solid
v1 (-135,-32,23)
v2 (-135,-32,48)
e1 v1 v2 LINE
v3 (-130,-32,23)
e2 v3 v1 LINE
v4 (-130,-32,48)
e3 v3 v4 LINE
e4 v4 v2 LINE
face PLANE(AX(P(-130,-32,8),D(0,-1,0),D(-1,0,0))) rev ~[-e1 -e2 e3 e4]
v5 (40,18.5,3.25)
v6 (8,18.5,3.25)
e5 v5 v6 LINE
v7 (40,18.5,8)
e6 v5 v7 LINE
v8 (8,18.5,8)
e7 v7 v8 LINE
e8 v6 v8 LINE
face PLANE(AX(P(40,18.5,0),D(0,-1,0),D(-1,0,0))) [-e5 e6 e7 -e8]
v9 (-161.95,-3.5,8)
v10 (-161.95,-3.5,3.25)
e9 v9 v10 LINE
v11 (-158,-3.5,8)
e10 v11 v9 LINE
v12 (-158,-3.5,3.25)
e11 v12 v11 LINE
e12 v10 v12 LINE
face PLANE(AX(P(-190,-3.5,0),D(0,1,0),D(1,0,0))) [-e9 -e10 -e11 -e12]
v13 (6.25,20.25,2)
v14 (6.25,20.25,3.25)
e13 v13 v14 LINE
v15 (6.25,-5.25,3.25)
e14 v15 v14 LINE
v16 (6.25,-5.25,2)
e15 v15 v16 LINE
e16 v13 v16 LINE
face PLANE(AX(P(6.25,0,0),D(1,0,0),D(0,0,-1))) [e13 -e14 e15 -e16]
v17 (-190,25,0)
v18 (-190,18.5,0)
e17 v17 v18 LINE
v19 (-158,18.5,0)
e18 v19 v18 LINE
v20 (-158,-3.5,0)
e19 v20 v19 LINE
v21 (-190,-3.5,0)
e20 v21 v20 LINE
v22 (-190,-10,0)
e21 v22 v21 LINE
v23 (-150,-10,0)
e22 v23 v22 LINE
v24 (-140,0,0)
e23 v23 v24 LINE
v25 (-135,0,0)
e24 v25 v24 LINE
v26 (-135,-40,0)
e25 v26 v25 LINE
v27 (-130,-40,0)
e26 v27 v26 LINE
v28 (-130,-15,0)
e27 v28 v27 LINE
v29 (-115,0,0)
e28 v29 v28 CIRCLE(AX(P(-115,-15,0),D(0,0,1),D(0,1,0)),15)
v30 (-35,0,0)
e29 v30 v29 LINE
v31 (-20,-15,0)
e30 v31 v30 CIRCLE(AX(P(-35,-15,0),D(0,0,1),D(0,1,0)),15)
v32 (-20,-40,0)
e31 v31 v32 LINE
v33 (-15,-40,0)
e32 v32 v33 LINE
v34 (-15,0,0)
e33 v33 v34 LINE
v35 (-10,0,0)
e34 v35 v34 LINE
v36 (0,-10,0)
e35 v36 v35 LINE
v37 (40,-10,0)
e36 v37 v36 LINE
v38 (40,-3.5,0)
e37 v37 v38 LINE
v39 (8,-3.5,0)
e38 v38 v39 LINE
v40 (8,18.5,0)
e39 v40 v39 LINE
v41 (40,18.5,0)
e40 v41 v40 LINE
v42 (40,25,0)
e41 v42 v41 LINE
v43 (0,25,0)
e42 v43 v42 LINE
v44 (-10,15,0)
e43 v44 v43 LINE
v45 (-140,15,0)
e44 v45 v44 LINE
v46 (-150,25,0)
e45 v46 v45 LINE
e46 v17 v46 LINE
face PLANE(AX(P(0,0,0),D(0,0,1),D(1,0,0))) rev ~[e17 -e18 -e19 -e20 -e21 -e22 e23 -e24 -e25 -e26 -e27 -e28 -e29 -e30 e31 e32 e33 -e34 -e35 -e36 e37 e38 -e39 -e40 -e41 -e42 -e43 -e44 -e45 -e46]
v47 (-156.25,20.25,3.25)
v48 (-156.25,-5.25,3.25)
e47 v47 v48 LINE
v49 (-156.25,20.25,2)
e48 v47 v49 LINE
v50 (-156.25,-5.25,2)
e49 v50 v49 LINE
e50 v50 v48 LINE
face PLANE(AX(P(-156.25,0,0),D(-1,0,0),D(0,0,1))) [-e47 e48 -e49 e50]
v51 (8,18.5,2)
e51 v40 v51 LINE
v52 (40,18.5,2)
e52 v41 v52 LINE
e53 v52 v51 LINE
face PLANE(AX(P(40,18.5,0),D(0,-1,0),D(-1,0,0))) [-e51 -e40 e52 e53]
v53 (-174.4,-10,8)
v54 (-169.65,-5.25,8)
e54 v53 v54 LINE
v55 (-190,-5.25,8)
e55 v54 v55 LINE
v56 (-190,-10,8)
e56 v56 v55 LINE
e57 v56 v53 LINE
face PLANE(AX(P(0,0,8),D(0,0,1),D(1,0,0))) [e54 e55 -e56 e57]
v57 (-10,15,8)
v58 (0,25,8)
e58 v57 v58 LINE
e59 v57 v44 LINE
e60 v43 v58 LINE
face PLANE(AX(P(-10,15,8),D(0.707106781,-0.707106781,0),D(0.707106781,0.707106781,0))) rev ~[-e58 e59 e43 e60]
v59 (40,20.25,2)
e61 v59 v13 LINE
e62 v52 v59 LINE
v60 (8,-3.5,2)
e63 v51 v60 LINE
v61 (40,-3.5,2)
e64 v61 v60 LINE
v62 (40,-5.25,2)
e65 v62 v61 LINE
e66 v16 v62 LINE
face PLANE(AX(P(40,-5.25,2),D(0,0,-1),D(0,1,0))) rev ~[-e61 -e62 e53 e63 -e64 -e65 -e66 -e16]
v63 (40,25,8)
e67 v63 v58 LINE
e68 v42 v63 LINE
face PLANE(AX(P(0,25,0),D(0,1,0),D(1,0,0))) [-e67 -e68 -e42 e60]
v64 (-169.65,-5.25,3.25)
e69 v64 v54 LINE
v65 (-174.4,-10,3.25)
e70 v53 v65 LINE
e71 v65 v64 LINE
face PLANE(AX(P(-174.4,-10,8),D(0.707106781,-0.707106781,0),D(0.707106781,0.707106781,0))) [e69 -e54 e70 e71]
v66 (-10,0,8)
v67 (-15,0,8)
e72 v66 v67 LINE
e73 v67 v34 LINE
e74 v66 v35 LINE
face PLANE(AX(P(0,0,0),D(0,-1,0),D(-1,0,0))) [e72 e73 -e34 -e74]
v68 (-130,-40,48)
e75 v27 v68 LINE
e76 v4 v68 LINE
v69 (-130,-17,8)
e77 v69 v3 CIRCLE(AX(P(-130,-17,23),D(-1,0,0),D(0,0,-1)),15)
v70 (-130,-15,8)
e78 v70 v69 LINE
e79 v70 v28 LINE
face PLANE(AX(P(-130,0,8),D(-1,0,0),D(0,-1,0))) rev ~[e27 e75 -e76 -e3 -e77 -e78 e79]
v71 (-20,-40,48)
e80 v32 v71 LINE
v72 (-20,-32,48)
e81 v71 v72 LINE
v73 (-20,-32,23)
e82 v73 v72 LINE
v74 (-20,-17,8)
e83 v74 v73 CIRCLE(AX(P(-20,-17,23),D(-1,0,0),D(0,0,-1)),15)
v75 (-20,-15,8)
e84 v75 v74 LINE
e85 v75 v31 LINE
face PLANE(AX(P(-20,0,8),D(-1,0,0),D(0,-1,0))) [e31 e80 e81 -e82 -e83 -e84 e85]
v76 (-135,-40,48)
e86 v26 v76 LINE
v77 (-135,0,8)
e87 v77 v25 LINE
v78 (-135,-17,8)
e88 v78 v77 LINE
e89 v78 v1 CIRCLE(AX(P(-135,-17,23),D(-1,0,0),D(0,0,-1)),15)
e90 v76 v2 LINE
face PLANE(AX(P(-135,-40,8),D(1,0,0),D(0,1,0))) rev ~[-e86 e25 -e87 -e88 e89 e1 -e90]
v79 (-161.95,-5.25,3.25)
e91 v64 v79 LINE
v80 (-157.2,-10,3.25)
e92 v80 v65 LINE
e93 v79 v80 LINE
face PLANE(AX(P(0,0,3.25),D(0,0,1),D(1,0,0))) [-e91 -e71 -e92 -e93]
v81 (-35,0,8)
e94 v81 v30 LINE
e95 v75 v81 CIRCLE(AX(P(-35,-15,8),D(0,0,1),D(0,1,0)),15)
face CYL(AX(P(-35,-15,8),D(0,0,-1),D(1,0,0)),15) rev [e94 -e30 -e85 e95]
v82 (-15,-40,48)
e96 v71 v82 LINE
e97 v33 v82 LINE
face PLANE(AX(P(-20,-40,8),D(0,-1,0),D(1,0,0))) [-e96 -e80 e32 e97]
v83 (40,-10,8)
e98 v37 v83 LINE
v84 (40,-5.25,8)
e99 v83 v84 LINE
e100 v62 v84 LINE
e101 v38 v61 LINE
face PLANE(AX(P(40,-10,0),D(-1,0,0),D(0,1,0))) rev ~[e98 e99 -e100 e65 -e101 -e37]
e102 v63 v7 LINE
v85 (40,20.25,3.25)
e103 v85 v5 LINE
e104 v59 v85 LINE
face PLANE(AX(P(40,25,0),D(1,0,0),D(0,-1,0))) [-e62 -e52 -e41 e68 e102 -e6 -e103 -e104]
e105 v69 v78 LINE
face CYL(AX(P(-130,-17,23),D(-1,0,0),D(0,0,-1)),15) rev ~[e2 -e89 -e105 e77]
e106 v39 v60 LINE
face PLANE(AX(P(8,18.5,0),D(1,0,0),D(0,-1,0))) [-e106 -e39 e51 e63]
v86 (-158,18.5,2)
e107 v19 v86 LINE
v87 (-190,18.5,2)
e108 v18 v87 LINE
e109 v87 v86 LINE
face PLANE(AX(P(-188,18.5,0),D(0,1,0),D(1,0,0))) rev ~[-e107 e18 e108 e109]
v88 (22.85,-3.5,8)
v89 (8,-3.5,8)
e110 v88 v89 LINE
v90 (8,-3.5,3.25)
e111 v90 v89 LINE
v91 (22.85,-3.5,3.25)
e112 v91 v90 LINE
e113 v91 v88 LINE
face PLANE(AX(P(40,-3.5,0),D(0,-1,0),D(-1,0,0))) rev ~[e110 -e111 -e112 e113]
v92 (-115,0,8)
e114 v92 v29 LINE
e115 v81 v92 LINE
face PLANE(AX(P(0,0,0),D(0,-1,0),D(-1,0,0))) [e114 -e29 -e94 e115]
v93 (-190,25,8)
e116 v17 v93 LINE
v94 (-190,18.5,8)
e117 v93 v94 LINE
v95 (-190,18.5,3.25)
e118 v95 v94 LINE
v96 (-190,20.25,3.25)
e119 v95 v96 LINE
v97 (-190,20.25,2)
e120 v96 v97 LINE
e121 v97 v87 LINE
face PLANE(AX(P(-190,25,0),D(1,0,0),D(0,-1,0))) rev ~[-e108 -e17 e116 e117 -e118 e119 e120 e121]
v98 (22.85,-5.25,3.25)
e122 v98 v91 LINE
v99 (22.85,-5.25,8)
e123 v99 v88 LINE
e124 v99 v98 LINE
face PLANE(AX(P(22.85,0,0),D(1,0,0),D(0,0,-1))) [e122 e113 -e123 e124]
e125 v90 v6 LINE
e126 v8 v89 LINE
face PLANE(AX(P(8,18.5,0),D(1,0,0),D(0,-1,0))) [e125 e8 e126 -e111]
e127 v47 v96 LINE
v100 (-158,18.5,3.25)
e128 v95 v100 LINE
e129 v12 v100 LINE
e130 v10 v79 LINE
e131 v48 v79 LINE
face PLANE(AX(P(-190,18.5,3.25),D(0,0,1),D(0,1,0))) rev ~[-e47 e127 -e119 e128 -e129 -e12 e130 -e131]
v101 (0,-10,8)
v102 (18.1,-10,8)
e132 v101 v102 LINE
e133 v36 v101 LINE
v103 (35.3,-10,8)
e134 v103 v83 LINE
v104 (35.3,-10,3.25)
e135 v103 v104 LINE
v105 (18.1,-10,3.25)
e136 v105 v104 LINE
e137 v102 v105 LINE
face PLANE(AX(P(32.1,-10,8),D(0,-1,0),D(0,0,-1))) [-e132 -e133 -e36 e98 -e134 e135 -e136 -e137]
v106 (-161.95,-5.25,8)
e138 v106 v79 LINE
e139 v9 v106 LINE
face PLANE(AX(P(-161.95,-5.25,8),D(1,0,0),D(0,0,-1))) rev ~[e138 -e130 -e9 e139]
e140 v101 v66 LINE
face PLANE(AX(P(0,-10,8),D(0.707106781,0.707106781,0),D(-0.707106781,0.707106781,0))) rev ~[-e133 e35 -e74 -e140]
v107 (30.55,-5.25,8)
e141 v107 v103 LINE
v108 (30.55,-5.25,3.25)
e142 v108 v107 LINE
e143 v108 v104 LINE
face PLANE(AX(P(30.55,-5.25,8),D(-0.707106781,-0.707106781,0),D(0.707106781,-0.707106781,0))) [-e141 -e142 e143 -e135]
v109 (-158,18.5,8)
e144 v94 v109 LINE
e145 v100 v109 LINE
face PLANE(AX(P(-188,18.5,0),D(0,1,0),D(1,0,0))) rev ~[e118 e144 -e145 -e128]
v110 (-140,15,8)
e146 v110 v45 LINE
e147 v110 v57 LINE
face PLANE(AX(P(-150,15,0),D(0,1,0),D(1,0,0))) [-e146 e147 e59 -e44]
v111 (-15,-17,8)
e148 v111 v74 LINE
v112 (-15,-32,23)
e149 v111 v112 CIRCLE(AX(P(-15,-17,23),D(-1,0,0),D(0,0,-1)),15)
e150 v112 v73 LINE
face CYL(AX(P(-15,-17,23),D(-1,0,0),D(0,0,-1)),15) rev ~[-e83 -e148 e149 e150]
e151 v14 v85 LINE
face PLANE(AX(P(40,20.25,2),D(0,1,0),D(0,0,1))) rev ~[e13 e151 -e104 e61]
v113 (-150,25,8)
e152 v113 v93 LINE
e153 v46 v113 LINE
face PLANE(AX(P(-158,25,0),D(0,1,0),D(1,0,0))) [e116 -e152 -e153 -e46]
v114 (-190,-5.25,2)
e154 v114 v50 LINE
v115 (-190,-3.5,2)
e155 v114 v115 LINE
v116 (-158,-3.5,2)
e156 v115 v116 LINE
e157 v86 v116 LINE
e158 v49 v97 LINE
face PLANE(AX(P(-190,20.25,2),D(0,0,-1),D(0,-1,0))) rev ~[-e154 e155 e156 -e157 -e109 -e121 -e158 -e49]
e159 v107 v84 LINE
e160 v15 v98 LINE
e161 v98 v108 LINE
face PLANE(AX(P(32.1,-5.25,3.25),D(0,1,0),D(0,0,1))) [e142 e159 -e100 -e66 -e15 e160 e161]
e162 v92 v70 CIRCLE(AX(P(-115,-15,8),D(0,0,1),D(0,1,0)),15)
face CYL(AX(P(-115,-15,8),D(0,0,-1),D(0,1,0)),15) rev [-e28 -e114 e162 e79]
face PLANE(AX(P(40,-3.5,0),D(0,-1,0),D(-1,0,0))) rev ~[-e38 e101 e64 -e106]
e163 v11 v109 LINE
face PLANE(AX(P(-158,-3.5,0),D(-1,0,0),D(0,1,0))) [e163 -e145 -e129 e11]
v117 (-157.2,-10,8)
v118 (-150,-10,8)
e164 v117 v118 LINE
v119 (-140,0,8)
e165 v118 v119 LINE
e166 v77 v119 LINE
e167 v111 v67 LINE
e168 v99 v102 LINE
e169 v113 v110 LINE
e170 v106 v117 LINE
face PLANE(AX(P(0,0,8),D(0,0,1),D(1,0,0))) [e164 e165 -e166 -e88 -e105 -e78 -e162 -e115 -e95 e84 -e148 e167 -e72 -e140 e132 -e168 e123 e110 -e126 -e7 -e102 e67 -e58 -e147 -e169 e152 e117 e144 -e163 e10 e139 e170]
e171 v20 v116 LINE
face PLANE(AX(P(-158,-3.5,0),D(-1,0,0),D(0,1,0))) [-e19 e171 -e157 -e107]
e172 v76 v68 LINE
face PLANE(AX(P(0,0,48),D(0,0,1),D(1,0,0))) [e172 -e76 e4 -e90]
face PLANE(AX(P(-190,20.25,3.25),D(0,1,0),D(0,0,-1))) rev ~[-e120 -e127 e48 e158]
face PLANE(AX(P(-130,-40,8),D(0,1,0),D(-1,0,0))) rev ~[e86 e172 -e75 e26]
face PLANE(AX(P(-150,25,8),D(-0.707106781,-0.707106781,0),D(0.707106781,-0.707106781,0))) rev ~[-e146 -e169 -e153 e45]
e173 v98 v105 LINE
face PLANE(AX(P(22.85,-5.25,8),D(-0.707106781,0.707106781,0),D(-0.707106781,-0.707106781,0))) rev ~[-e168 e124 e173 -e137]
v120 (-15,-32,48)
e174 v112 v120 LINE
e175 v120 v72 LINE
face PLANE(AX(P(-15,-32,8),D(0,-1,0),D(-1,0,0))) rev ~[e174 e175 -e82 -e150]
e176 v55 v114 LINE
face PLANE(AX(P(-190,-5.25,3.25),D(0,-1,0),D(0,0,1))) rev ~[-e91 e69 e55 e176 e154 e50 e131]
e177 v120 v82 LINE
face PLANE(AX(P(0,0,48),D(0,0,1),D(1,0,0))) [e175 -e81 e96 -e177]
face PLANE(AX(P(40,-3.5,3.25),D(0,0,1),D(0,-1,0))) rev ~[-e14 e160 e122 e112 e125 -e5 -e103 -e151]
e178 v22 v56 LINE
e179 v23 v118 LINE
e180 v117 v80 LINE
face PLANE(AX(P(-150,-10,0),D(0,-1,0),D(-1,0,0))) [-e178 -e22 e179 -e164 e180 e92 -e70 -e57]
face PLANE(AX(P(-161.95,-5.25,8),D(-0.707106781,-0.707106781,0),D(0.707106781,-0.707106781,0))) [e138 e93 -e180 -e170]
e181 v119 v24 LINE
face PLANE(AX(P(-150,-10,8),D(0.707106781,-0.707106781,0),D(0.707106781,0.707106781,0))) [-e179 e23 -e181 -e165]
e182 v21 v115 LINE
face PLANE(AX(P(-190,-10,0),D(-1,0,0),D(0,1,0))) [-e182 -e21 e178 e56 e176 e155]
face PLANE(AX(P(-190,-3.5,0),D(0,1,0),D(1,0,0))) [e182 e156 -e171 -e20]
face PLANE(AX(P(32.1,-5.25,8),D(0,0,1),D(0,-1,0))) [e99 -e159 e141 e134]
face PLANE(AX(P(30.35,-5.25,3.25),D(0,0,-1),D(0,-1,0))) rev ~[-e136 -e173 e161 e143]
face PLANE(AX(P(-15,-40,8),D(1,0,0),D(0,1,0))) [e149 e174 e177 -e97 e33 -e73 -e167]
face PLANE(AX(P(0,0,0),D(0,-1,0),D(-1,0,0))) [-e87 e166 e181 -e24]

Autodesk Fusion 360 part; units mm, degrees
sketch "Sketch1" plane through (0, 0, 0) normal (0, 0, 1) x (1, 0, 0)
  line L0 (0, 0) -> (-150, 0)
  line L1 (-150, 0) -> (-150, 15)
  line L2 (-150, 15) -> (0, 15)
  line L3 (0, 15) -> (0, 0)
  line L4 (-150, -10) -> (-158, -10)
  line L5 (-158, -10) -> (-158, 25)
  line L6 (-158, 25) -> (-150, 25)
  line L7 (-150, 25) -> (-150, -10)
  line L8 (-158, -5) -> (-188, -5)
  line L9 (-188, -5) -> (-188, 20)
  line L10 (-188, 20) -> (-158, 20)
  line L11 (-158, 20) -> (-158, -5)
  line L12 (-158, -10) -> (-190, -10)
  line L13 (-190, -10) -> (-190, -3.5)
  line L14 (-190, -3.5) -> (-158, -3.5)
  line L15 (-158, -3.5) -> (-158, -10)
  line L16 (-158, 25) -> (-190, 25)
  line L17 (-190, 25) -> (-190, 18.5)
  line L18 (-190, 18.5) -> (-158, 18.5)
  line L19 (-158, 18.5) -> (-158, 25)
  line L20 (0, 25) -> (8, 25)
  line L21 (8, 25) -> (8, -10)
  line L22 (8, -10) -> (0, -10)
  line L23 (0, -10) -> (0, 25)
  line L24 (8, 25) -> (40, 25)
  line L25 (40, 25) -> (40, 18.5)
  line L26 (40, 18.5) -> (8, 18.5)
  line L27 (8, 18.5) -> (8, 25)
  line L28 (8, -10) -> (40, -10)
  line L29 (40, -10) -> (40, -3.5)
  line L30 (40, -3.5) -> (8, -3.5)
  line L31 (8, -3.5) -> (8, -10)
  dimension "d1" = 150
  dimension "d2" = 15
  dimension "d3" = 8
  dimension "d4" = 35
  dimension "d5" = 10
  dimension "d6" = 30
  dimension "d7" = 25
  dimension "d8" = 5
  dimension "d9" = 6.5
  dimension "d10" = 32
  dimension "d11" = 32
  dimension "d12" = 6.5
  dimension "d13" = 8
  dimension "d14" = 35
  dimension "d15" = 10
  dimension "d16" = 32
  dimension "d17" = 6.5
  dimension "d18" = 32
  dimension "d19" = 6.5
extrude "Extrude1" add sketch "Sketch1" along normal blind 8 contours L0 L1 L2 L3 L7 L23 | L3 L20 L21 L22 L23 L27 L31 | L1 L4 L5 L6 L7 L11 L15 L19 | L21 L28 L29 L30 L31 | L5 L8 L9 L12 L13 L14 L15 | L21 L24 L25 L26 L27 | L5 L9 L10 L16 L17 L18 L19 | L5 L8 L9 L11 L14 L15 | L5 L9 L10 L11 L18 L19
sketch "Sketch2" plane through (-190, 0, 0) normal (-1, 0, 0) x (0, 0, 1)
  line L0 (0, -3.5) -> (0, -10)
  line L1 (0, -10) -> (8, -10)
  line L2 (8, -10) -> (8, -3.5)
  line L3 (8, -3.5) -> (0, -3.5)
  line L4 (2, -3.5) -> (3.25, -3.5)
  line L5 (3.25, -3.5) -> (3.25, -5.25)
  line L6 (3.25, -5.25) -> (2, -5.25)
  line L7 (2, -5.25) -> (2, -3.5)
  line L8 (2, 18.5) -> (3.25, 18.5)
  line L9 (3.25, 18.5) -> (3.25, 20.25)
  line L10 (3.25, 20.25) -> (2, 20.25)
  line L11 (2, 20.25) -> (2, 18.5)
  dimension "d22" = 1.25
  dimension "d23" = 1.75
  dimension "d24" = 1.25
  dimension "d25" = 1.75
  dimension "d26" = 22
  dimension "d27" = 2
extrude "Extrude2" cut sketch "Sketch2" against normal blind 32 contours L3 L4 L5 L6 L7 | L8 L9 L10 L11
sketch "Sketch3" plane through (-158, 0, 0) normal (-1, 0, 0) x (0, 0, 1)
  line L0 (0, 18.5) -> (0, -3.5)
  line L1 (0, -3.5) -> (2, -3.5)
  line L2 (2, -3.5) -> (2, -5.25)
  line L3 (2, -5.25) -> (3.25, -5.25)
  line L4 (3.25, -5.25) -> (3.25, -3.5)
  line L5 (3.25, -3.5) -> (8, -3.5)
  line L6 (8, -3.5) -> (8, 18.5)
  line L7 (8, 18.5) -> (3.25, 18.5)
  line L8 (3.25, 18.5) -> (3.25, 20.25)
  line L9 (3.25, 20.25) -> (2, 20.25)
  line L10 (2, 20.25) -> (2, 18.5)
  line L11 (2, 18.5) -> (0, 18.5)
  line L12 (2, -5.25) -> (3.25, -5.25)
  line L13 (3.25, -5.25) -> (3.25, 20.25)
  line L14 (3.25, 20.25) -> (2, 20.25)
  line L15 (2, 20.25) -> (2, -5.25)
extrude "Extrude3" cut sketch "Sketch3" against normal blind 1.5 contours L2 L3 L4 L8 L9 L10 L12 L13 L14 L15
sketch "Sketch4" plane through (40, 0, 0) normal (1, 0, 0) x (0, 0, -1)
  line L0 (0, -10) -> (0, -3.5)
  line L1 (0, -3.5) -> (-8, -3.5)
  line L2 (-8, -3.5) -> (-8, -10)
  line L3 (-8, -10) -> (0, -10)
  line L4 (-2, -3.5) -> (-3.25, -3.5)
  line L5 (-3.25, -3.5) -> (-3.25, -5.25)
  line L6 (-3.25, -5.25) -> (-2, -5.25)
  line L7 (-2, -5.25) -> (-2, -3.5)
  line L8 (-3.25, 18.5) -> (-2, 18.5)
  line L9 (-2, 18.5) -> (-2, 20.25)
  line L10 (-2, 20.25) -> (-3.25, 20.25)
  line L11 (-3.25, 20.25) -> (-3.25, 18.5)
  line L12 (-2, -5.25) -> (-2, 20.25)
  dimension "d32" = 1.25
  dimension "d33" = 1.75
  dimension "d34" = 2
  dimension "d35" = 1.25
  dimension "d36" = 1.75
  dimension "d37" = 22
extrude "Extrude4" cut sketch "Sketch4" against normal blind 32 contours L8 L9 L10 L11 L12 | L1 L4 L5 L6 L7 L12
sketch "Sketch5" plane through (8, 0, 0) normal (1, 0, 0) x (0, 0, -1)
  line L0 (0, -3.5) -> (0, 18.5)
  line L1 (0, 18.5) -> (-2, 18.5)
  line L2 (-2, 18.5) -> (-2, 20.25)
  line L3 (-2, 20.25) -> (-3.25, 20.25)
  line L4 (-3.25, 20.25) -> (-3.25, 18.5)
  line L5 (-3.25, 18.5) -> (-8, 18.5)
  line L6 (-8, 18.5) -> (-8, -3.5)
  line L7 (-8, -3.5) -> (-3.25, -3.5)
  line L8 (-3.25, -3.5) -> (-3.25, -5.25)
  line L9 (-3.25, -5.25) -> (-2, -5.25)
  line L10 (-2, -5.25) -> (-2, -3.5)
  line L11 (-2, -3.5) -> (0, -3.5)
  line L12 (-3.25, 20.25) -> (-2, 20.25)
  line L13 (-2, 20.25) -> (-2, -5.25)
  line L14 (-2, -5.25) -> (-3.25, -5.25)
  line L15 (-3.25, -5.25) -> (-3.25, 20.25)
extrude "Extrude5" cut sketch "Sketch5" against normal blind 1.75 contours L2 L3 L4 L8 L9 L10 L12 L13 L14 L15
extrude "Extrude6" cut 1 faces at (-156.5, 11.75, 2.4167) along direction (1, 0, 0) blind 0.25
sketch "Sketch6" plane through (-190, 0, 0) normal (-1, 0, 0) x (0, 0, 1)
  line L0 (2, -5.25) -> (2, -3.5)
  line L1 (2, -3.5) -> (0, -3.5)
  line L2 (0, -3.5) -> (0, -10)
  line L3 (0, -10) -> (8, -10)
  line L4 (8, -10) -> (8, -3.5)
  line L5 (8, -3.5) -> (3.25, -3.5)
  line L6 (3.25, -3.5) -> (3.25, -5.25)
  line L7 (3.25, -5.25) -> (2, -5.25)
  line L8 (3.25, -5.25) -> (8, -5.25)
  line L9 (8, -5.25) -> (8, -3.5)
  line L10 (8, -3.5) -> (3.25, -3.5)
  line L11 (3.25, -3.5) -> (3.25, -5.25)
extrude "Extrude7" cut sketch "Sketch6" against normal blind 27.85 contours L4 L5 L6 L8 L9 L10 L11
sketch "Sketch7" plane through (40, 0, 0) normal (1, 0, 0) x (0, 0, -1)
  line L0 (-2, -3.5) -> (-2, -5.25)
  line L1 (-2, -5.25) -> (-3.25, -5.25)
  line L2 (-3.25, -5.25) -> (-3.25, -3.5)
  line L3 (-3.25, -3.5) -> (-8, -3.5)
  line L4 (-8, -3.5) -> (-8, -10)
  line L5 (-8, -10) -> (0, -10)
  line L6 (0, -10) -> (0, -3.5)
  line L7 (0, -3.5) -> (-2, -3.5)
  line L8 (-3.25, -5.25) -> (-8, -5.25)
  line L9 (-8, -5.25) -> (-8, -3.5)
  line L10 (-8, -3.5) -> (-3.25, -3.5)
  line L11 (-3.25, -3.5) -> (-3.25, -5.25)
extrude "Extrude8" cut sketch "Sketch7" against normal blind 13.2 contours L2 L3 L4 L8 L9 L10 L11
extrude "Extrude9" cut 1 faces at (26.8, -4.6667, 4.8333) along direction (-1, 0, 0) blind 0.1
extrude "Extrude10" cut 1 faces at (26.7, -4.6667, 4.8333) along direction (-1, 0, 0) blind 0.1
extrude "Extrude11" cut 1 faces at (-162.15, -4.0833, 4.8333) along direction (1, 0, 0) blind 0.1
sketch "Sketch8" plane through (0, -5.25, 0) normal (0, 1, 0) x (-1, 0, 0)
  line L0 (-40, 8) -> (-40, 2)
  line L1 (-40, 2) -> (-6.25, 2)
  line L2 (-6.25, 2) -> (-6.25, 3.25)
  line L3 (-6.25, 3.25) -> (-26.6, 3.25)
  line L4 (-26.6, 3.25) -> (-26.6, 8)
  line L5 (-26.6, 8) -> (-40, 8)
  line L6 (-26.6, 3.25) -> (-34.1, 3.25)
  line L7 (-34.1, 3.25) -> (-34.1, 8)
  line L8 (-34.1, 8) -> (-26.6, 8)
  line L9 (-26.6, 8) -> (-26.6, 3.25)
  dimension "d54" = 7.5
extrude "Extrude12" cut sketch "Sketch8" against normal blind 9 contours L4 L5 L6 L7 L8 L9
sketch "Sketch9" plane through (0, -5.25, 0) normal (0, 1, 0) x (-1, 0, 0)
  line L0 (190, 2) -> (190, 8)
  line L1 (190, 8) -> (162.05, 8)
  line L2 (162.05, 8) -> (162.05, 3.25)
  line L3 (162.05, 3.25) -> (156.25, 3.25)
  line L4 (156.25, 3.25) -> (156.25, 2)
  line L5 (156.25, 2) -> (190, 2)
  line L6 (162.05, 3.25) -> (169.55, 3.25)
  line L7 (169.55, 3.25) -> (169.55, 8)
  line L8 (169.55, 8) -> (162.05, 8)
  line L9 (162.05, 8) -> (162.05, 3.25)
  dimension "d57" = 7.5
extrude "Extrude13" cut sketch "Sketch9" against normal blind 6 contours L1 L2 L6 L7 L8 L9
extrude "Extrude18" cut 1 faces at (26.6, -6.25, 6.4167) along direction (-1, 0, 0) blind 2
extrude "Extrude19" add 1 faces at (34.1, -6.8333, 4.8333) along direction (-1, 0, 0) blind 2
extrude "Extrude20" cut 1 faces at (24.6, -6.25, 6.4167) along direction (-1, 0, 0) blind 1.75
extrude "Extrude21" add 1 faces at (32.1, -6.8333, 4.8333) along direction (-1, 0, 0) blind 1.75
extrude "Extrude22" cut 1 faces at (30.35, -6.8333, 4.8333) along direction (1, 0, 0) blind 0.2
extrude "Extrude23" cut 1 faces at (-169.55, -6.8333, 4.8333) along direction (-1, 0, 0) blind 0.1
extrude "Extrude24" cut 1 faces at (-162.05, -6.25, 6.4167) along direction (1, 0, 0) blind 0.1
sketch "Sketch14" plane through (0, 0, 8) normal (0, 0, 1) x (1, 0, 0)
  line L0 (-161.95, -3.5) -> (-161.95, -10)
  line L1 (-161.95, -10) -> (-150, -10)
  line L2 (-150, -10) -> (-150, 0)
  line L3 (-150, 0) -> (0, 0)
  line L4 (0, 0) -> (0, -10)
  line L5 (0, -10) -> (22.85, -10)
  line L6 (22.85, -10) -> (22.85, -3.5)
  line L7 (22.85, -3.5) -> (8, -3.5)
  line L8 (8, -3.5) -> (8, 18.5)
  line L9 (8, 18.5) -> (40, 18.5)
  line L10 (40, 18.5) -> (40, 25)
  line L11 (40, 25) -> (0, 25)
  line L12 (0, 25) -> (0, 15)
  line L13 (0, 15) -> (-150, 15)
  line L14 (-150, 15) -> (-150, 25)
  line L15 (-150, 25) -> (-190, 25)
  line L16 (-190, 25) -> (-190, 18.5)
  line L17 (-190, 18.5) -> (-158, 18.5)
  line L18 (-158, 18.5) -> (-158, -3.5)
  line L19 (-158, -3.5) -> (-161.95, -3.5)
  line L20 (22.85, -5.25) -> (22.85, -10)
  line L21 (22.85, -10) -> (18.1, -10)
  line L22 (22.85, -5.25) -> (18.1, -10)
  dimension "d89" = 4.75
  dimension "d90" = 4.75
extrude "Extrude25" cut sketch "Sketch14" against normal blind 4.75 contours L5 L6 L20 L21 L22
sketch "Sketch15" plane through (0, 0, 8) normal (0, 0, 1) x (1, 0, 0)
  line L0 (30.55, -5.25) -> (30.55, -10)
  line L1 (30.55, -10) -> (40, -10)
  line L2 (40, -10) -> (40, -5.25)
  line L3 (40, -5.25) -> (30.55, -5.25)
  line L4 (30.55, -5.25) -> (30.55, -10)
  line L5 (30.55, -10) -> (35.3, -10)
  line L6 (30.55, -5.25) -> (35.3, -10)
  dimension "d93" = 4.75
extrude "Extrude26" cut sketch "Sketch15" against normal blind 4.75 contours L0 L1 L4 L5 L6
sketch "Sketch16" plane through (0, 0, 8) normal (0, 0, 1) x (1, 0, 0)
  line L0 (-169.65, -10) -> (-169.65, -5.25)
  line L1 (-169.65, -5.25) -> (-190, -5.25)
  line L2 (-190, -5.25) -> (-190, -10)
  line L3 (-190, -10) -> (-169.65, -10)
  line L4 (-169.65, -5.25) -> (-169.65, -10)
  line L5 (-169.65, -10) -> (-174.4, -10)
  line L6 (-174.4, -10) -> (-169.65, -5.25)
  dimension "d60" = 4.75
  dimension "d61" = 4.75
  dimension "d96" = 4.75
extrude "Extrude27" cut sketch "Sketch16" against normal blind 4.75 contours L0 L3 L4 L5 L6
sketch "Sketch17" plane through (0, 0, 8) normal (0, 0, 1) x (1, 0, 0)
  line L0 (18.1, -10) -> (22.85, -5.25)
  line L1 (22.85, -5.25) -> (22.85, -3.5)
  line L2 (22.85, -3.5) -> (8, -3.5)
  line L3 (8, -3.5) -> (8, 18.5)
  line L4 (8, 18.5) -> (40, 18.5)
  line L5 (40, 18.5) -> (40, 25)
  line L6 (40, 25) -> (0, 25)
  line L7 (0, 25) -> (0, 15)
  line L8 (0, 15) -> (-150, 15)
  line L9 (-150, 15) -> (-150, 25)
  line L10 (-150, 25) -> (-190, 25)
  line L11 (-190, 25) -> (-190, 18.5)
  line L12 (-190, 18.5) -> (-158, 18.5)
  line L13 (-158, 18.5) -> (-158, -3.5)
  line L14 (-158, -3.5) -> (-161.95, -3.5)
  line L15 (-161.95, -3.5) -> (-161.95, -10)
  line L16 (-161.95, -10) -> (-150, -10)
  line L17 (-150, -10) -> (-150, 0)
  line L18 (-150, 0) -> (0, 0)
  line L19 (0, 0) -> (0, -10)
  line L20 (0, -10) -> (18.1, -10)
  line L21 (-161.95, -10) -> (-161.95, -5.25)
  line L22 (-161.95, -10) -> (-157.2, -10)
  line L23 (-161.95, -5.25) -> (-157.2, -10)
  dimension "d99" = 4.75
  dimension "d100" = 4.75
extrude "Extrude28" cut sketch "Sketch17" against normal blind 4.75 contours L15 L16 L21 L22 L23
sketch "Sketch18" plane through (0, 0, 8) normal (0, 0, 1) x (1, 0, 0)
  line L0 (-161.95, -5.25) -> (-157.2, -10)
  line L1 (-157.2, -10) -> (-150, -10)
  line L2 (-150, -10) -> (-150, 0)
  line L3 (-150, 0) -> (0, 0)
  line L4 (0, 0) -> (0, -10)
  line L5 (0, -10) -> (18.1, -10)
  line L6 (18.1, -10) -> (22.85, -5.25)
  line L7 (22.85, -5.25) -> (22.85, -3.5)
  line L8 (22.85, -3.5) -> (8, -3.5)
  line L9 (8, -3.5) -> (8, 18.5)
  line L10 (8, 18.5) -> (40, 18.5)
  line L11 (40, 18.5) -> (40, 25)
  line L12 (40, 25) -> (0, 25)
  line L13 (0, 25) -> (0, 15)
  line L14 (0, 15) -> (-150, 15)
  line L15 (-150, 15) -> (-150, 25)
  line L16 (-150, 25) -> (-190, 25)
  line L17 (-190, 25) -> (-190, 18.5)
  line L18 (-190, 18.5) -> (-158, 18.5)
  line L19 (-158, 18.5) -> (-158, -3.5)
  line L20 (-158, -3.5) -> (-161.95, -3.5)
  line L21 (-161.95, -3.5) -> (-161.95, -5.25)
  line L22 (0, 25) -> (0, 15)
  line L23 (0, 15) -> (-10, 15)
  line L24 (-10, 15) -> (0, 25)
  line L25 (0, 0) -> (-10, 0)
  line L26 (0, 0) -> (0, -10)
  line L27 (0, -10) -> (-10, 0)
  line L28 (-150, 25) -> (-150, 15)
  line L29 (-150, 15) -> (-140, 15)
  line L30 (-150, 25) -> (-140, 15)
  line L31 (-150, 0) -> (-150, -10)
  line L32 (-150, 0) -> (-140, 0)
  line L33 (-150, -10) -> (-140, 0)
  dimension "d103" = 10
  dimension "d104" = 10
  dimension "d105" = 10
  dimension "d106" = 10
extrude "Extrude29" add sketch "Sketch18" against normal blind 8 contours L2 L3 L31 L32 L33 | L3 L4 L25 L26 L27 | L14 L15 L28 L29 L30 | L13 L14 L22 L23 L24
sketch "Sketch19" plane through (0, 0, 8) normal (0, 0, 1) x (1, 0, 0)
  line L0 (-161.95, -5.25) -> (-157.2, -10)
  line L1 (-157.2, -10) -> (-150, -10)
  line L2 (-150, -10) -> (-140, 0)
  line L3 (-140, 0) -> (-10, 0)
  line L4 (-10, 0) -> (0, -10)
  line L5 (0, -10) -> (18.1, -10)
  line L6 (18.1, -10) -> (22.85, -5.25)
  line L7 (22.85, -5.25) -> (22.85, -3.5)
  line L8 (22.85, -3.5) -> (8, -3.5)
  line L9 (8, -3.5) -> (8, 18.5)
  line L10 (8, 18.5) -> (40, 18.5)
  line L11 (40, 18.5) -> (40, 25)
  line L12 (40, 25) -> (0, 25)
  line L13 (0, 25) -> (-10, 15)
  line L14 (-10, 15) -> (-140, 15)
  line L15 (-140, 15) -> (-150, 25)
  line L16 (-150, 25) -> (-190, 25)
  line L17 (-190, 25) -> (-190, 18.5)
  line L18 (-190, 18.5) -> (-158, 18.5)
  line L19 (-158, 18.5) -> (-158, -3.5)
  line L20 (-158, -3.5) -> (-161.95, -3.5)
  line L21 (-161.95, -3.5) -> (-161.95, -5.25)
  line L22 (-135, 0) -> (-130, 0)
  line L23 (-130, 0) -> (-130, -40)
  line L24 (-130, -40) -> (-135, -40)
  line L25 (-135, -40) -> (-135, 0)
  line L26 (-15, 0) -> (-20, 0)
  line L27 (-20, 0) -> (-20, -40)
  line L28 (-20, -40) -> (-15, -40)
  line L29 (-15, -40) -> (-15, 0)
  dimension "d109" = 40
  dimension "d110" = 40
extrude "Extrude30" add sketch "Sketch19" against normal blind 8 contours L3 L22 L23 L24 L25 | L3 L26 L27 L28 L29
sketch "Sketch20" plane through (0, 0, 8) normal (0, 0, 1) x (1, 0, 0)
  line L0 (-161.95, -5.25) -> (-157.2, -10)
  line L1 (-157.2, -10) -> (-150, -10)
  line L2 (-150, -10) -> (-140, 0)
  line L3 (-140, 0) -> (-135, 0)
  line L4 (-135, 0) -> (-135, -40)
  line L5 (-135, -40) -> (-130, -40)
  line L6 (-130, -40) -> (-130, 0)
  line L7 (-130, 0) -> (-20, 0)
  line L8 (-20, 0) -> (-20, -40)
  line L9 (-20, -40) -> (-15, -40)
  line L10 (-15, -40) -> (-15, 0)
  line L11 (-15, 0) -> (-10, 0)
  line L12 (-10, 0) -> (0, -10)
  line L13 (0, -10) -> (18.1, -10)
  line L14 (18.1, -10) -> (22.85, -5.25)
  line L15 (22.85, -5.25) -> (22.85, -3.5)
  line L16 (22.85, -3.5) -> (8, -3.5)
  line L17 (8, -3.5) -> (8, 18.5)
  line L18 (8, 18.5) -> (40, 18.5)
  line L19 (40, 18.5) -> (40, 25)
  line L20 (40, 25) -> (0, 25)
  line L21 (0, 25) -> (-10, 15)
  line L22 (-10, 15) -> (-140, 15)
  line L23 (-140, 15) -> (-150, 25)
  line L24 (-150, 25) -> (-190, 25)
  line L25 (-190, 25) -> (-190, 18.5)
  line L26 (-190, 18.5) -> (-158, 18.5)
  line L27 (-158, 18.5) -> (-158, -3.5)
  line L28 (-158, -3.5) -> (-161.95, -3.5)
  line L29 (-161.95, -3.5) -> (-161.95, -5.25)
  line L30 (-135, -40) -> (-130, -40)
  line L31 (-130, -40) -> (-130, -35)
  line L32 (-130, -35) -> (-135, -35)
  line L33 (-135, -35) -> (-135, -40)
  line L34 (-20, -40) -> (-15, -40)
  line L35 (-15, -40) -> (-15, -35)
  line L36 (-15, -35) -> (-20, -35)
  line L37 (-20, -35) -> (-20, -40)
extrude "Extrude31" add sketch "Sketch20" along normal blind 40 contours L4 L5 L6 L30 L31 L32 L33 | L8 L9 L10 L34 L35 L36 L37
extrude "Extrude32" add 2 faces at (-16.6667, -35, 34.6667) (-131.6667, -35, 21.3333) along direction (0, 1, 0) blind 3
fillet "Fillet1" radius 15 2 edges at (-132.5, -32, 8) (-17.5, -32, 8)
fillet "Fillet2" radius 15 2 edges at (-20, 0, 4) (-130, 0, 4)
